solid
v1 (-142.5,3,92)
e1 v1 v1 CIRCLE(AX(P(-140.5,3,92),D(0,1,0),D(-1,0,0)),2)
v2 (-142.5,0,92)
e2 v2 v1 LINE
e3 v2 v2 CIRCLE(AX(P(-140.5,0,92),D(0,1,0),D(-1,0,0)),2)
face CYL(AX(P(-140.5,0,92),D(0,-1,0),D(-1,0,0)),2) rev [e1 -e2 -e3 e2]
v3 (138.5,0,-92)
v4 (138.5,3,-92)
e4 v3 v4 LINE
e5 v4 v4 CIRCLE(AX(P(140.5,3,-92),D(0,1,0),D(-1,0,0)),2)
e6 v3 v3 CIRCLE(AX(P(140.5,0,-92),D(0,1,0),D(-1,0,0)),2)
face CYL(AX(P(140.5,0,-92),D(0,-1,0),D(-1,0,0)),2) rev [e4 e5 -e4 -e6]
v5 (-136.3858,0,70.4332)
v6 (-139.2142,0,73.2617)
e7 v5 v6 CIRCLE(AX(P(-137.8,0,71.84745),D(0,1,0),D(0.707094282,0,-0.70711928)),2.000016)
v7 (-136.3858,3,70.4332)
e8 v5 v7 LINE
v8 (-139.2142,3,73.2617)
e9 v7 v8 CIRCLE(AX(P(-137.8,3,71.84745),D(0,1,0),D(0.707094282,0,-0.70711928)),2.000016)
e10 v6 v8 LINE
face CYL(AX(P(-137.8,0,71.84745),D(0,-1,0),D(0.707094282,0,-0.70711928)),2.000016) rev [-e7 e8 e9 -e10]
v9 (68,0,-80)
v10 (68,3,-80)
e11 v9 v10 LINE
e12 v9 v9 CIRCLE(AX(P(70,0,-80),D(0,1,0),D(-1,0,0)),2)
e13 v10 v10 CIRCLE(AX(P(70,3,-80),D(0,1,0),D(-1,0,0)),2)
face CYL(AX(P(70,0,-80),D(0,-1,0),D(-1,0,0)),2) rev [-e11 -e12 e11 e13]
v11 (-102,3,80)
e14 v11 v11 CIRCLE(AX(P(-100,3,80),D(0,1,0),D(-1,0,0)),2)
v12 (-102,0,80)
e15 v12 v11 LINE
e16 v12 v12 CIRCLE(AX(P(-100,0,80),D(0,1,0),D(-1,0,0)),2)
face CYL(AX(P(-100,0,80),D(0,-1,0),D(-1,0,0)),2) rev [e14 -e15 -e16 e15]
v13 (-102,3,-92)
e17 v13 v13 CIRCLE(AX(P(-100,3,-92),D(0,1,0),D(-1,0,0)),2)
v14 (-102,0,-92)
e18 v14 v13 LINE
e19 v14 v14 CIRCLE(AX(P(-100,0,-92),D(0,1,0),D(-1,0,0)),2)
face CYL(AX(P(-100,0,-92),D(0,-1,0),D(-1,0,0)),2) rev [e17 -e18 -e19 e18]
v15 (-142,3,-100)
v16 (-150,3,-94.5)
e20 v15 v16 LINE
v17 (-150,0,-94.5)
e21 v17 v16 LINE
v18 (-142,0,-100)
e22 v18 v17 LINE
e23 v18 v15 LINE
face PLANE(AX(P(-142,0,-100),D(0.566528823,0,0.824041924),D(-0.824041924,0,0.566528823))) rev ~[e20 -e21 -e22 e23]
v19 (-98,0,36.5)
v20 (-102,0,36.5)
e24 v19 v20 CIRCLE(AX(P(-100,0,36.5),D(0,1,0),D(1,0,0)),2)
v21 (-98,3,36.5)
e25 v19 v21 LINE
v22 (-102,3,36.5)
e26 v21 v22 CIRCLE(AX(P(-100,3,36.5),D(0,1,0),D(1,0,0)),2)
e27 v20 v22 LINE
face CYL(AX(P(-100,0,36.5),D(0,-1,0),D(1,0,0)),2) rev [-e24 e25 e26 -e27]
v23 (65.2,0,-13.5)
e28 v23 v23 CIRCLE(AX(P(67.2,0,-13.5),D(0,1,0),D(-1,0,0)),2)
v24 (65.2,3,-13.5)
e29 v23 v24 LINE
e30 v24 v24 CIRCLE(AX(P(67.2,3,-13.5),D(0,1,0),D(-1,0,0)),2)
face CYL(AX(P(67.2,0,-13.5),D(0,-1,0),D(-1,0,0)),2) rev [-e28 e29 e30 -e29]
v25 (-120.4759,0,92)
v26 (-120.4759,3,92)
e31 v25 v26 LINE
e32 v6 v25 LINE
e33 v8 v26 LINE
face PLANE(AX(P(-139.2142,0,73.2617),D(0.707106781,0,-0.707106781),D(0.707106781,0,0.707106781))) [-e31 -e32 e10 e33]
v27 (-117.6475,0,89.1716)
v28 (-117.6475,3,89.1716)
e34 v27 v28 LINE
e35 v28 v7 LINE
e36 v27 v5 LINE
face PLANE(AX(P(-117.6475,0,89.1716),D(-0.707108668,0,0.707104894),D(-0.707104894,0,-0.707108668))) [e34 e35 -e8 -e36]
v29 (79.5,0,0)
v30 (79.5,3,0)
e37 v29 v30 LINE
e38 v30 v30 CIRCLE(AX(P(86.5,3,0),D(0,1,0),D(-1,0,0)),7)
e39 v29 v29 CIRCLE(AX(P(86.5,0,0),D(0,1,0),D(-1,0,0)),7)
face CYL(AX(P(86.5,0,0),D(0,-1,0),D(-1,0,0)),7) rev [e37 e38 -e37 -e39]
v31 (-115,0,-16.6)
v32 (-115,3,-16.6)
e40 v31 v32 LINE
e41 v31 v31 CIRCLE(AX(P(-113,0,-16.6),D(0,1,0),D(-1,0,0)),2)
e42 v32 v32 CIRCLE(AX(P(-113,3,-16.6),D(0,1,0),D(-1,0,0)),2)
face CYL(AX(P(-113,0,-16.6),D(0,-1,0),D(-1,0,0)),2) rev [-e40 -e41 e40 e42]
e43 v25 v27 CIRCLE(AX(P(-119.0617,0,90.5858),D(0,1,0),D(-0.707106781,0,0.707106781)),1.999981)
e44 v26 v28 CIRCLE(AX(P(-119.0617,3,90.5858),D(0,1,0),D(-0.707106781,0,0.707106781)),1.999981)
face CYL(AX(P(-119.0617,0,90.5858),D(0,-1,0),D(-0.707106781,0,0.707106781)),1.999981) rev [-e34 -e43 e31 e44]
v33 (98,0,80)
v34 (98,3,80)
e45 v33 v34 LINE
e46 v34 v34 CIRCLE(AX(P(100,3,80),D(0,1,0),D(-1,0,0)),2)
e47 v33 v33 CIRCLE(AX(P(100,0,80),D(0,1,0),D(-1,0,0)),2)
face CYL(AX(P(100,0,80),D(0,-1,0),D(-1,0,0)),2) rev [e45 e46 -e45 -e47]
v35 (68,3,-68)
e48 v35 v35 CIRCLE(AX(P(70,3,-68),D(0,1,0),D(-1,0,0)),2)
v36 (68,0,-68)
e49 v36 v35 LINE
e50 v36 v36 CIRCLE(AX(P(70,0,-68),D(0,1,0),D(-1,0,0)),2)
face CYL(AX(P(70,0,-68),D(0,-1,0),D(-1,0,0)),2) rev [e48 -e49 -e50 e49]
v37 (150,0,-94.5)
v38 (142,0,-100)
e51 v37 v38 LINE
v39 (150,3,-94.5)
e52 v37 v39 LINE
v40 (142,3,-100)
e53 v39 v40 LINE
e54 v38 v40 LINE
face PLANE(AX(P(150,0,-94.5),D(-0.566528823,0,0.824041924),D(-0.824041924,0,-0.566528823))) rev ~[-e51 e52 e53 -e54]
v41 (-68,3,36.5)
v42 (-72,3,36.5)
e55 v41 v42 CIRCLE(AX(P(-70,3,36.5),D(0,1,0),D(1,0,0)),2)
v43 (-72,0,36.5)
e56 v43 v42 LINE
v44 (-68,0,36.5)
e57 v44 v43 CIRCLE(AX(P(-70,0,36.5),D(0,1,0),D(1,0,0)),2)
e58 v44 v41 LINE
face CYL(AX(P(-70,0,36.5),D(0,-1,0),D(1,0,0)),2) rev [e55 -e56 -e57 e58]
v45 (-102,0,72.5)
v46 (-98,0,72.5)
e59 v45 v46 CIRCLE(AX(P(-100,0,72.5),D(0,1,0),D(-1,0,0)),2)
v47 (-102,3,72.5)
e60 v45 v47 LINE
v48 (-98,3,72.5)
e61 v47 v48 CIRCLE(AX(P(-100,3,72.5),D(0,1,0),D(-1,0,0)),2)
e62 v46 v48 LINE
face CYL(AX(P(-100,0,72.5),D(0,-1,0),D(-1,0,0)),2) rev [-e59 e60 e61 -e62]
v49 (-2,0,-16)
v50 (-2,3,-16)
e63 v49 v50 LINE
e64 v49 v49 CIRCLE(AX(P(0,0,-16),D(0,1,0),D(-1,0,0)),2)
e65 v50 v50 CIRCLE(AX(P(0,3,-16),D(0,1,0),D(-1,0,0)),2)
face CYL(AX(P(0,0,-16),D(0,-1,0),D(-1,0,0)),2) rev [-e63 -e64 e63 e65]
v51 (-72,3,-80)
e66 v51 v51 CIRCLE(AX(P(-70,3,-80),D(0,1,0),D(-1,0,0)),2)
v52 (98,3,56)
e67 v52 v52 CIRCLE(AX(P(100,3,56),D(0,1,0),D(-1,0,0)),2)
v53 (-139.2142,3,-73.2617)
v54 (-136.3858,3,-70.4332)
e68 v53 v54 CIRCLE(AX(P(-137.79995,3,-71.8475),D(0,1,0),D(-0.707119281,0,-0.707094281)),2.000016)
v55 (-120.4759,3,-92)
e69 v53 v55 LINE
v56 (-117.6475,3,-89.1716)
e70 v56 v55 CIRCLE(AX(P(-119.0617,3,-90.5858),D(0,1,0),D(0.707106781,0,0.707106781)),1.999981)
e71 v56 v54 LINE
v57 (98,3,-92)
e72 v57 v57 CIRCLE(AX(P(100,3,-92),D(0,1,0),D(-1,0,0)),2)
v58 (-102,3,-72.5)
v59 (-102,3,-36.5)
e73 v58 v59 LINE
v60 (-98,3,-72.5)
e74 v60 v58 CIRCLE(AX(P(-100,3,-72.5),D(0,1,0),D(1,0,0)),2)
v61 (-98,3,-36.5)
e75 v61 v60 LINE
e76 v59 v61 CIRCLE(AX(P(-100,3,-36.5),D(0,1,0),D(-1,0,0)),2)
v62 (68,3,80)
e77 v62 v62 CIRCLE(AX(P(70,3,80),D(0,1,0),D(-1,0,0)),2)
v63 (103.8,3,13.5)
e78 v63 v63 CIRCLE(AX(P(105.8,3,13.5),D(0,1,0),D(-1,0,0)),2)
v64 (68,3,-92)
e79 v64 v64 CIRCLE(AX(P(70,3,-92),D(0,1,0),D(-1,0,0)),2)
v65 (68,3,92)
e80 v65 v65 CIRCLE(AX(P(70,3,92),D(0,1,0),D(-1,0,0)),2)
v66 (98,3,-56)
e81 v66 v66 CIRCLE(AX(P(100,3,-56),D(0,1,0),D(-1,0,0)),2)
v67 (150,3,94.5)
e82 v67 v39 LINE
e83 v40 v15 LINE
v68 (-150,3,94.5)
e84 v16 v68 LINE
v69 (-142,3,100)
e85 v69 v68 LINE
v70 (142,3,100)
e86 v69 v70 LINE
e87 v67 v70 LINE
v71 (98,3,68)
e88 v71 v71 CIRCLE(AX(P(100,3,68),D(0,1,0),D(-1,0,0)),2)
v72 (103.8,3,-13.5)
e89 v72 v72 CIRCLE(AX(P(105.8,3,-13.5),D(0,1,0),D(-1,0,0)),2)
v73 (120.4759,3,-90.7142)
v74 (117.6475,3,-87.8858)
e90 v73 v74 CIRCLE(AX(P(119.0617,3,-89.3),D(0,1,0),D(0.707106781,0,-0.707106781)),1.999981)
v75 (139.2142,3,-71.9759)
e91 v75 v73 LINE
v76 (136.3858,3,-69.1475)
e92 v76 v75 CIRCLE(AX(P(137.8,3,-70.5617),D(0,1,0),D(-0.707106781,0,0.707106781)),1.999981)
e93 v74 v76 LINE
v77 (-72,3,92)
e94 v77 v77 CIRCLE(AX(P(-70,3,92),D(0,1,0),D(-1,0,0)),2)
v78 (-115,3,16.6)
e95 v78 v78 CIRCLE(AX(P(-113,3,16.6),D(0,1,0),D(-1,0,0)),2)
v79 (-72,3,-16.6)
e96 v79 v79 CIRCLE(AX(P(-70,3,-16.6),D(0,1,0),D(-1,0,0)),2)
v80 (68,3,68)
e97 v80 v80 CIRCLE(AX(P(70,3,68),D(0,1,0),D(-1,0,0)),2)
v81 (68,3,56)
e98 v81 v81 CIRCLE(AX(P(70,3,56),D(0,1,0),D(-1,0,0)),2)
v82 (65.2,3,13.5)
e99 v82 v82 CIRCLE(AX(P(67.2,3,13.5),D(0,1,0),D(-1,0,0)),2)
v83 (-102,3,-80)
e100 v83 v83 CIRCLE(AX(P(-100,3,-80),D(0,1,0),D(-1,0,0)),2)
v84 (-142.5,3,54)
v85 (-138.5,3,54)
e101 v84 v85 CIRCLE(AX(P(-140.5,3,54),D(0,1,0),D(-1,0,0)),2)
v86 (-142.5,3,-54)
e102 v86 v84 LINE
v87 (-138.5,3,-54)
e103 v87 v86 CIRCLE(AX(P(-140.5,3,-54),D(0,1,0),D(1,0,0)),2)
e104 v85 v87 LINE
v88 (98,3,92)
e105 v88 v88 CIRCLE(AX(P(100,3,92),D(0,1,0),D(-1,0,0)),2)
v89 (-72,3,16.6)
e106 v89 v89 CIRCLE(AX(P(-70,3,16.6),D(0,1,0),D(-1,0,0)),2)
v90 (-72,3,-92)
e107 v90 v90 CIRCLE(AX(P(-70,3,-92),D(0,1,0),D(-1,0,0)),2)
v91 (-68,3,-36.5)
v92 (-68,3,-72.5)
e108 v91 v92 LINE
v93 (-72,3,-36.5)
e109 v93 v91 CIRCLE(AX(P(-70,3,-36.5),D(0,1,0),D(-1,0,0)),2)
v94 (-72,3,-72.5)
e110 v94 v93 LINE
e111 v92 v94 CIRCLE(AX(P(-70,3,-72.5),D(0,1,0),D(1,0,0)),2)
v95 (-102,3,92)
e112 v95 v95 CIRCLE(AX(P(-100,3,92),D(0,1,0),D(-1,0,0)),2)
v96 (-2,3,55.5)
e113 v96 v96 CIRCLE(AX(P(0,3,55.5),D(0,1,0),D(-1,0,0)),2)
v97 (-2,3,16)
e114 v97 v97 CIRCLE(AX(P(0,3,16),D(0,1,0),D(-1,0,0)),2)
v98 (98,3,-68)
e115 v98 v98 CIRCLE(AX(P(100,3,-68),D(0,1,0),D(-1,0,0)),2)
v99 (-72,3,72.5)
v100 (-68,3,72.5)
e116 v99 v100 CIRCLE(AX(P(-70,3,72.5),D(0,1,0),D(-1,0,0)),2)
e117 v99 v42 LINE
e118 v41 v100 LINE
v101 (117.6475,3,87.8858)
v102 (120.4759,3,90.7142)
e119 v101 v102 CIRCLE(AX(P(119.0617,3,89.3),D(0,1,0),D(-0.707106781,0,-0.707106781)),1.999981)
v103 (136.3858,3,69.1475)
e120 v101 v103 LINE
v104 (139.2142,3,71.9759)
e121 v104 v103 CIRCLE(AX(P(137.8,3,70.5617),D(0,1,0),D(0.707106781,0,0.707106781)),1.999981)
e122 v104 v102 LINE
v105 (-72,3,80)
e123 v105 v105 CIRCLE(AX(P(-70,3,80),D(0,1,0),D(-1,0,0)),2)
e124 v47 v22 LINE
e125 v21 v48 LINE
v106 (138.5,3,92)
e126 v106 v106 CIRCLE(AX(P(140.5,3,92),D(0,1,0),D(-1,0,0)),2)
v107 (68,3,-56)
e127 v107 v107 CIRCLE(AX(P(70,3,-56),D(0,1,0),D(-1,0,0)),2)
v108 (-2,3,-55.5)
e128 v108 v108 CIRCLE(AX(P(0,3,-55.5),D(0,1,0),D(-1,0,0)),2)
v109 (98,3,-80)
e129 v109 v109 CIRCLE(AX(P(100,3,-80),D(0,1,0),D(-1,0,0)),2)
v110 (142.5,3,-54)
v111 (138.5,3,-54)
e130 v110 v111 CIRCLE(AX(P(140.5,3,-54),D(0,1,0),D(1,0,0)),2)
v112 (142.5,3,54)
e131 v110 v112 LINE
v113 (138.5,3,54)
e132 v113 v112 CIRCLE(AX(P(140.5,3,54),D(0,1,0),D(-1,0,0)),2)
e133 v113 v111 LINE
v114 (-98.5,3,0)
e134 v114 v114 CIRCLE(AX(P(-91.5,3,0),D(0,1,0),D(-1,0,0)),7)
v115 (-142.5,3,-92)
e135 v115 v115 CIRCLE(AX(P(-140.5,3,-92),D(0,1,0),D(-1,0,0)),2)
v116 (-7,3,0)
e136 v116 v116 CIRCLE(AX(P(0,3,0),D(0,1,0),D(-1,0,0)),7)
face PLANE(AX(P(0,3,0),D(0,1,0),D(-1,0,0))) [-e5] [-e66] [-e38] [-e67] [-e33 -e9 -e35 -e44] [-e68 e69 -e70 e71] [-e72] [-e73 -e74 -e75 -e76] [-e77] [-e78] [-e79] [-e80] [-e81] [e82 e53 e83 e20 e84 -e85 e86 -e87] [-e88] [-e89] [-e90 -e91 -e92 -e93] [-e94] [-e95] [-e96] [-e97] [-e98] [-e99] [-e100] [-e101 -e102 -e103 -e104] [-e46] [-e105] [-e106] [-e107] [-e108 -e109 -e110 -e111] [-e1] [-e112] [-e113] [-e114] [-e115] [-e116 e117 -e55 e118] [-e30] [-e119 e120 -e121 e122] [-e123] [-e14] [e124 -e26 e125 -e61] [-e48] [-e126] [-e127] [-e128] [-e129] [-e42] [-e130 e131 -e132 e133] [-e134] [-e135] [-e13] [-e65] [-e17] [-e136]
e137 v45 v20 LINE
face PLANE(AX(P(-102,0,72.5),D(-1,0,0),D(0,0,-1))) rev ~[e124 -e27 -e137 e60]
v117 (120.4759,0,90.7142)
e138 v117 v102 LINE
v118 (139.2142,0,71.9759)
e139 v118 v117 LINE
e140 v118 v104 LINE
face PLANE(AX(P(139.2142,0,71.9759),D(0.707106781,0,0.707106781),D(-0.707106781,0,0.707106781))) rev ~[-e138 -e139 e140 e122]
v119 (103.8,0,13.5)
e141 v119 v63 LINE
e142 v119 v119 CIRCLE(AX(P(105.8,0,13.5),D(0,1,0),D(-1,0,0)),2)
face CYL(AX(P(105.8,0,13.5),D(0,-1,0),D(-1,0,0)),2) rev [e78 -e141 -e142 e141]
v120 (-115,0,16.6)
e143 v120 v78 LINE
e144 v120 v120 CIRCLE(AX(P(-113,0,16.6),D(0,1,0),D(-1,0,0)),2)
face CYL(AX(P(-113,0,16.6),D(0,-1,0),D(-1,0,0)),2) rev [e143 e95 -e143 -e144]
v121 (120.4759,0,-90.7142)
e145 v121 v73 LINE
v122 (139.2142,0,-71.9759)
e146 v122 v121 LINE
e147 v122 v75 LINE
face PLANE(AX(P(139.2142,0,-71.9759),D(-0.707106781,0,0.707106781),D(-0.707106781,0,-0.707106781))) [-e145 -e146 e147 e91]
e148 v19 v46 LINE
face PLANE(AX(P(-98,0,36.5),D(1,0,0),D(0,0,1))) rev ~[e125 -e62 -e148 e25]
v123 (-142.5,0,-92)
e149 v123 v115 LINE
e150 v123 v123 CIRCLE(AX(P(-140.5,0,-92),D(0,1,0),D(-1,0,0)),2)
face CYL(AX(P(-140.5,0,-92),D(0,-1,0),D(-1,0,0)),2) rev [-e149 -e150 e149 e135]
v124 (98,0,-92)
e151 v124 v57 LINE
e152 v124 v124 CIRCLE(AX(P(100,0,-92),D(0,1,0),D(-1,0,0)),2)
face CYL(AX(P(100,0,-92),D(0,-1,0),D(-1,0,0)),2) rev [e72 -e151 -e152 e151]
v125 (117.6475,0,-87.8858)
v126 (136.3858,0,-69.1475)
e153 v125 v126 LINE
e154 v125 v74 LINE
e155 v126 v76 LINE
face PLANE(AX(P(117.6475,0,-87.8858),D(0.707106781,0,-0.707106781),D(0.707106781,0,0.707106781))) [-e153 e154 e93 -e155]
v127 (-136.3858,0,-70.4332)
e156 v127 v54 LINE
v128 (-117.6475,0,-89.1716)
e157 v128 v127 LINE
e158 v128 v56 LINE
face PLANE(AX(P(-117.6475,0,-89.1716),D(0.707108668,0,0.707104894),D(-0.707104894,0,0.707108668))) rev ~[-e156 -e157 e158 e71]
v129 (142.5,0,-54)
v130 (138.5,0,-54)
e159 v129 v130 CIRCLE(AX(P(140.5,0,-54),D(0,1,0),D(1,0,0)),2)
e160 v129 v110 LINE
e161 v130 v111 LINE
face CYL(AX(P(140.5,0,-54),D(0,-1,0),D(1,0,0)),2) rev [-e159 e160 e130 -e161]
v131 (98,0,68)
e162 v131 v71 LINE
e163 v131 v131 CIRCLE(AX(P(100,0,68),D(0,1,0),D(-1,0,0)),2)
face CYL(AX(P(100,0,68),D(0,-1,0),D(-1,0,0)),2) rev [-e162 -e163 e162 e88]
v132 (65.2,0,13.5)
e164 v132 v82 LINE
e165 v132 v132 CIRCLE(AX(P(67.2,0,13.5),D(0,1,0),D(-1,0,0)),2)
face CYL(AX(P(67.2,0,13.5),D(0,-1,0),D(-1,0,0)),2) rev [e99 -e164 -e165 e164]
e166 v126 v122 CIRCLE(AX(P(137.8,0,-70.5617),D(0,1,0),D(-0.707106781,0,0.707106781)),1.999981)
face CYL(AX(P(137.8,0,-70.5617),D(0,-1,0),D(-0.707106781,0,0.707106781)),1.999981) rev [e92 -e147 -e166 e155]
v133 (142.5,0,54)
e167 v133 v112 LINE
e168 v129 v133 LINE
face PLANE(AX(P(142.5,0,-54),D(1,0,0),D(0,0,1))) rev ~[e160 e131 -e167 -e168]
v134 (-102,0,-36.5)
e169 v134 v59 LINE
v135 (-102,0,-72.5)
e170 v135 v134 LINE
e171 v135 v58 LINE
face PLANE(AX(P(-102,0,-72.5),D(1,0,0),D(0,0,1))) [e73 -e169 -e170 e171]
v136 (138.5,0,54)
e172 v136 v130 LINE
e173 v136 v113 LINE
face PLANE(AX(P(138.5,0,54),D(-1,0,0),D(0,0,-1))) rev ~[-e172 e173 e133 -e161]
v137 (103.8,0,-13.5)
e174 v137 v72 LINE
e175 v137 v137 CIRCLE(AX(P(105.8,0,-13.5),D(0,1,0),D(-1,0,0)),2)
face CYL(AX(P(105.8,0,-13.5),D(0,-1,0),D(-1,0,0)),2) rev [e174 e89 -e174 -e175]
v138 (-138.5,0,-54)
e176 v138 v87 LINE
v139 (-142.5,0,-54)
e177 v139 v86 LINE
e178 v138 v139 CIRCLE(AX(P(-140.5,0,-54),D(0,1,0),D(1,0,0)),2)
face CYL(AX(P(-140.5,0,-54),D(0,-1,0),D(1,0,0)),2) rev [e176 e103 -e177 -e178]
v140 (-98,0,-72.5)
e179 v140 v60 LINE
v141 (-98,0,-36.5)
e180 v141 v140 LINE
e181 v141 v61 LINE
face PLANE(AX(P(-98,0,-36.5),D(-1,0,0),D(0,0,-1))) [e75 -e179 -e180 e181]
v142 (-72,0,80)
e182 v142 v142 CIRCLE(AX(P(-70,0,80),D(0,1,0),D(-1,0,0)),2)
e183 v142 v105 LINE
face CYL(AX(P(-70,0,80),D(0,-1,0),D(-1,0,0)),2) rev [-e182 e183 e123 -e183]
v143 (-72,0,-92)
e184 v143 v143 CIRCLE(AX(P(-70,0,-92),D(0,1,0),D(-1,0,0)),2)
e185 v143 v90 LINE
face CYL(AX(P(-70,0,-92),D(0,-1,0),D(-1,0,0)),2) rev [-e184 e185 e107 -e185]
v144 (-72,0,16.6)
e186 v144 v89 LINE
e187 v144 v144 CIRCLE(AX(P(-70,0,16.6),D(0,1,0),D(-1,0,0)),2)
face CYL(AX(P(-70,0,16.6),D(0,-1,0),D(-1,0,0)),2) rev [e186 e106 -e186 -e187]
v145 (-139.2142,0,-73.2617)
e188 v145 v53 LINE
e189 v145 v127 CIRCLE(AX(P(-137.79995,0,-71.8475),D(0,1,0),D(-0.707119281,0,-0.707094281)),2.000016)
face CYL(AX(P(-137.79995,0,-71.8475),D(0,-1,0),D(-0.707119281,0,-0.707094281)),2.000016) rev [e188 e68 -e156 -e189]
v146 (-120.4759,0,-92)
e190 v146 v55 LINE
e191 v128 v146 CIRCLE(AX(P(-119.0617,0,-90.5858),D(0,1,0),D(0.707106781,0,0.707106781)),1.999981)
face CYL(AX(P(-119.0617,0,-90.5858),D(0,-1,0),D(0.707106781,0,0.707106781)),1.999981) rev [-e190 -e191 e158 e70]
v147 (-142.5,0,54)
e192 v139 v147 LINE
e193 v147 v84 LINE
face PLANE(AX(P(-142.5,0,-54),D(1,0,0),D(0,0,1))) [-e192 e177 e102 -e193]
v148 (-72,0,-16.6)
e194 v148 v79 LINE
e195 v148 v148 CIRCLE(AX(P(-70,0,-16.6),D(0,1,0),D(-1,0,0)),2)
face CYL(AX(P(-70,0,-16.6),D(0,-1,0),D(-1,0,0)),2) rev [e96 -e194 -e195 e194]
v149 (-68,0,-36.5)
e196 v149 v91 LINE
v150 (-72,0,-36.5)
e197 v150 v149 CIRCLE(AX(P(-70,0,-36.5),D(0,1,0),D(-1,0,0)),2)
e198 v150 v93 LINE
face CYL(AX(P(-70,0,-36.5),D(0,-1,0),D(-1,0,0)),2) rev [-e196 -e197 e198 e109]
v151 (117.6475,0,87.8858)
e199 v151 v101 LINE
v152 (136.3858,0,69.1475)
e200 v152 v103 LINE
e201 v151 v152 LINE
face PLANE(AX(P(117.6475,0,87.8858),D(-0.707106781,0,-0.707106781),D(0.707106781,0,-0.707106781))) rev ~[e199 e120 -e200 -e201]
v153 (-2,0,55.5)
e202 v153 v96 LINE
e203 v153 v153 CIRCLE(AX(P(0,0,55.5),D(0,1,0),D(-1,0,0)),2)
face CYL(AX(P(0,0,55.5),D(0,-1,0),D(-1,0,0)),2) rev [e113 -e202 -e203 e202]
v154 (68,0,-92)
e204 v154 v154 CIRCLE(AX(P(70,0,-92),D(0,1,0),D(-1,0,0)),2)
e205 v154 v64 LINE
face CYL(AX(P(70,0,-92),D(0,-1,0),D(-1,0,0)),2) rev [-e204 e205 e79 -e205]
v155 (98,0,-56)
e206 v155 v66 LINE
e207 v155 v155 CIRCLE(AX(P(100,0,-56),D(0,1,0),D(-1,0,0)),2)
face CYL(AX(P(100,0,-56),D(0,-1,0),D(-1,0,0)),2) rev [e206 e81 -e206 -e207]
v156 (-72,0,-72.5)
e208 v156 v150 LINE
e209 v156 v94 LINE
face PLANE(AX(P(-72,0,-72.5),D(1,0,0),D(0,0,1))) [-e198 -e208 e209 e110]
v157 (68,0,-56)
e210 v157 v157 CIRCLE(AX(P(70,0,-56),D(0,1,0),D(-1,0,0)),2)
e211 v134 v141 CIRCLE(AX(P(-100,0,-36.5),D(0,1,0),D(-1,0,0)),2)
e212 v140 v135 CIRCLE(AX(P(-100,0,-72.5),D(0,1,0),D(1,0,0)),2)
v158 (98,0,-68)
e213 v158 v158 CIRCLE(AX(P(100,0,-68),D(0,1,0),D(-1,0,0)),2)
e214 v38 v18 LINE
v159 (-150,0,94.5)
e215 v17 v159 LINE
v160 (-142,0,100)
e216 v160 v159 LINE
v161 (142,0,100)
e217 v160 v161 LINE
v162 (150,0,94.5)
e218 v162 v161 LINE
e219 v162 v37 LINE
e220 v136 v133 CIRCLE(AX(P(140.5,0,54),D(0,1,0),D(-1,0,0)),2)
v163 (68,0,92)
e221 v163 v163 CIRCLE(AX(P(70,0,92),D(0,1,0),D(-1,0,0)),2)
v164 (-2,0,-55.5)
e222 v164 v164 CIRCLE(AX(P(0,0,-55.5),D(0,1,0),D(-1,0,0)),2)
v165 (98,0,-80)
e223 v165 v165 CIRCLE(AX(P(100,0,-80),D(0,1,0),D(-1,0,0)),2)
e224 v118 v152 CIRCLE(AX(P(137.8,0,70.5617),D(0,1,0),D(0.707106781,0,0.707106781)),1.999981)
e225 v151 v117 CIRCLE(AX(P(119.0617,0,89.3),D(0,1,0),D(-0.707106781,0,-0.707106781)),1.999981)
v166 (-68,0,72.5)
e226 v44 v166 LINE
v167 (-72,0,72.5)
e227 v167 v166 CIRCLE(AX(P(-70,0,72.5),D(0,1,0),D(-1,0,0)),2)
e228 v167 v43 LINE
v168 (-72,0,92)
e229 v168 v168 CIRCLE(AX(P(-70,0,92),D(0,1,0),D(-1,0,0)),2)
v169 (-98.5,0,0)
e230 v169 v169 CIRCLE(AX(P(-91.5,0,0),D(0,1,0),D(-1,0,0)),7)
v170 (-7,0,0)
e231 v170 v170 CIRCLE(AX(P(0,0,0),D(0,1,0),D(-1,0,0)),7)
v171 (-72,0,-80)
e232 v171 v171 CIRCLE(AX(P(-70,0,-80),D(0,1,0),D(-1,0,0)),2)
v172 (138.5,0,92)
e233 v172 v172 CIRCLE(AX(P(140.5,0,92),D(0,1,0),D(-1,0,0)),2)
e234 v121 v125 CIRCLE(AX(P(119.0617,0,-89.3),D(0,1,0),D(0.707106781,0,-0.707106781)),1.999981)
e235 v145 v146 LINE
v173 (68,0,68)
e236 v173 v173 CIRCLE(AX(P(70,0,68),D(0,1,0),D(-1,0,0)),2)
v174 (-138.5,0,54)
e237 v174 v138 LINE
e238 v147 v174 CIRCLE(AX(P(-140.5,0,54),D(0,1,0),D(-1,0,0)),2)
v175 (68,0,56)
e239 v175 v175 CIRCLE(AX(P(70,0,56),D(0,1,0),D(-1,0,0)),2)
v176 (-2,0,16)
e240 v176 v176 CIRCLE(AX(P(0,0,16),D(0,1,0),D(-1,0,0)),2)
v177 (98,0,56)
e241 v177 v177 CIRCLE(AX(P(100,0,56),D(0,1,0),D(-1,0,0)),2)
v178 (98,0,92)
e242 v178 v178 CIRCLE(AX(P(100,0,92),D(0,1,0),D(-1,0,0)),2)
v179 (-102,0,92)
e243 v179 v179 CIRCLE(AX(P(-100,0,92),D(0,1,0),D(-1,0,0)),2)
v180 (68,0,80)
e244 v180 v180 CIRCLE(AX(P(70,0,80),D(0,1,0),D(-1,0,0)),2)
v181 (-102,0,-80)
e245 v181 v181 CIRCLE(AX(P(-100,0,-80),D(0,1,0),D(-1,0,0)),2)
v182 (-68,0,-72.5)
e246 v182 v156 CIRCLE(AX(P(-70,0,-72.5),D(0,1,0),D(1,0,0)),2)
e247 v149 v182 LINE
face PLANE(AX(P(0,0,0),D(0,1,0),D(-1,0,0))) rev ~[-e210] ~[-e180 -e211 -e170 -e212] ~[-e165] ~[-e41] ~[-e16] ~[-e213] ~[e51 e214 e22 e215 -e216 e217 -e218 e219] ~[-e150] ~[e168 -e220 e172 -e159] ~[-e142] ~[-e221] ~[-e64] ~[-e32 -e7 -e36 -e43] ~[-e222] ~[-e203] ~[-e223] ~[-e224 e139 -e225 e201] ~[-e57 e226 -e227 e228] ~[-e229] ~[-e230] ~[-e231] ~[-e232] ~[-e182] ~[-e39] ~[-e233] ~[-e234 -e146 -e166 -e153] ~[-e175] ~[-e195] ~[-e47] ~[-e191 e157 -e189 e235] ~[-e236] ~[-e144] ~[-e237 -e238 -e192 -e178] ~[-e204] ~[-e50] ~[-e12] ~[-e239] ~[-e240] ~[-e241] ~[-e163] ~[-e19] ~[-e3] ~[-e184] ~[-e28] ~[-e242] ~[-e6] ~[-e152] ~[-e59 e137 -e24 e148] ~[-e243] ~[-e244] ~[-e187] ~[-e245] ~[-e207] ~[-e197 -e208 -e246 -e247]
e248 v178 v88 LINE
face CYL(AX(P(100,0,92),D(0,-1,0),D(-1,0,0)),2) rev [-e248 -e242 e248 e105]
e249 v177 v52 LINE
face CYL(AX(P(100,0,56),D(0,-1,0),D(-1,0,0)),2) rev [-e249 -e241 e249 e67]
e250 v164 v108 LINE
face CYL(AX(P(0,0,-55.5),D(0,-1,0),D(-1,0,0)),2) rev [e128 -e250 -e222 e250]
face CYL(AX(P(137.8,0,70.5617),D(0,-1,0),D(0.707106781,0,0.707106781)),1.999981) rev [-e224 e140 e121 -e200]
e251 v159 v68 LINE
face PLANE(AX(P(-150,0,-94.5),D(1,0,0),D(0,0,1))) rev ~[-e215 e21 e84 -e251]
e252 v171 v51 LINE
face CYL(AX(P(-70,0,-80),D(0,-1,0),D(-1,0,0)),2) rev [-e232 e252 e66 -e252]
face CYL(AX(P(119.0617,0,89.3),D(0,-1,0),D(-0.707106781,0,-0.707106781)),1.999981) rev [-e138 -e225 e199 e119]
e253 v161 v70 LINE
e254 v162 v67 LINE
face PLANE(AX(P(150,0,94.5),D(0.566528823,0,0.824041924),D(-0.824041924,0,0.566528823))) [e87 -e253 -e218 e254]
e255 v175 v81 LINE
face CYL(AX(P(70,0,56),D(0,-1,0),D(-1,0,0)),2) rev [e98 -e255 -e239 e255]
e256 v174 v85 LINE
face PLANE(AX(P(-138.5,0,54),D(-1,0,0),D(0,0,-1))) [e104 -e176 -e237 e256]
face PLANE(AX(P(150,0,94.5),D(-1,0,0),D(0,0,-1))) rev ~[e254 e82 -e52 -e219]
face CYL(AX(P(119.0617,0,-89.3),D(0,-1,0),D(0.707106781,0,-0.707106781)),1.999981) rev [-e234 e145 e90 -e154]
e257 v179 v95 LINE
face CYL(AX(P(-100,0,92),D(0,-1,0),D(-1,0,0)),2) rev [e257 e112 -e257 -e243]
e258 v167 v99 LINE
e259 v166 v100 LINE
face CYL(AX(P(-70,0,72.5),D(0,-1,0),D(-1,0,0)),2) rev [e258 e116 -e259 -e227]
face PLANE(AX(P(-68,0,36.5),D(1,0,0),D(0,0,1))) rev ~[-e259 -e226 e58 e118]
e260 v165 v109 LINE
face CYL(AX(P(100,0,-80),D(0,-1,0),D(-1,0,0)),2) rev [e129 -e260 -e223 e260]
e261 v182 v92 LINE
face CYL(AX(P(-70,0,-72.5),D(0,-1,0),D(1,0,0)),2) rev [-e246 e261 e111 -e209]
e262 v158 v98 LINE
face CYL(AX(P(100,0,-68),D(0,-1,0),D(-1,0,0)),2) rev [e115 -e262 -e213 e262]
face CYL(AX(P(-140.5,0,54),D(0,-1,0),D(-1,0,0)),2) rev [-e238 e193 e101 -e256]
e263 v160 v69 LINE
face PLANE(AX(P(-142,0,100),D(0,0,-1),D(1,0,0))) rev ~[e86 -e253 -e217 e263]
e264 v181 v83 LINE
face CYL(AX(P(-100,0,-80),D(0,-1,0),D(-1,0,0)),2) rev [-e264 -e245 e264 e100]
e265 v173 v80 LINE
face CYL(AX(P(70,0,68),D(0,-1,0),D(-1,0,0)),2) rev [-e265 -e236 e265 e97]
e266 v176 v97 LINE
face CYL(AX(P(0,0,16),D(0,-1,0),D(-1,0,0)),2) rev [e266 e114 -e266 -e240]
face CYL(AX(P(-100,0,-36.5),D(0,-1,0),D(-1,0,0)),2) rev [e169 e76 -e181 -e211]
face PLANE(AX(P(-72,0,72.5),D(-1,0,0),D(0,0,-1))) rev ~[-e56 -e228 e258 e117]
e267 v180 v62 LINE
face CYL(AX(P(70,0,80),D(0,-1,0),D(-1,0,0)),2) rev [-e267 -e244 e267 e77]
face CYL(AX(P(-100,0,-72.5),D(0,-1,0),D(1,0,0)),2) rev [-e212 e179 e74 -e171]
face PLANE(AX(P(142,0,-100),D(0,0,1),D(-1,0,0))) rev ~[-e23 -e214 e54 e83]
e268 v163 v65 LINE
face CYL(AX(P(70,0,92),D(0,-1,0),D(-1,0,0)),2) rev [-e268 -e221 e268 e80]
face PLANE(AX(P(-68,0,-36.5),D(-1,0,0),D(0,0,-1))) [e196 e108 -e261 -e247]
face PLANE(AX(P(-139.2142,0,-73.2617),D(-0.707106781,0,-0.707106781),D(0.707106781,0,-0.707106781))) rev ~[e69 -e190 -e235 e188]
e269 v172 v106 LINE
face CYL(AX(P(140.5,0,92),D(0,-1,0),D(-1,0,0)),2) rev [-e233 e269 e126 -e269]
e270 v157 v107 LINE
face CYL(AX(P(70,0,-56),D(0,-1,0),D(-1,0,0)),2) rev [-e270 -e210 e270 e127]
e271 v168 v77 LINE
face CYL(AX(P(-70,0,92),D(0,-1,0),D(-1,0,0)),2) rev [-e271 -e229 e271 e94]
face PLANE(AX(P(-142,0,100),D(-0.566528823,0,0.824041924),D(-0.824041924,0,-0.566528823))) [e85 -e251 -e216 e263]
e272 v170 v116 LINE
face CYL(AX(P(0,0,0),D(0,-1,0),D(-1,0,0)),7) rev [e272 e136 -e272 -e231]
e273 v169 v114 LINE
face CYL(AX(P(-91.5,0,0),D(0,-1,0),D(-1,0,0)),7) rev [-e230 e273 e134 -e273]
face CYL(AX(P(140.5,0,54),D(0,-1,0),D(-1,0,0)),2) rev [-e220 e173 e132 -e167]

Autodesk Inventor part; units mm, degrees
ref_plane "YZ Plane" through (0, 0, 0) normal (1, 0, 0) x (0, 1, 0)
ref_plane "XZ Plane" through (0, 0, 0) normal (0, 1, 0) x (-1, 0, 0)
ref_plane "XY Plane" through (0, 0, 0) normal (0, 0, 1) x (1, 0, 0)
sketch "Sketch1" plane through (0, 0, 0) normal (0, 1, 0) x (-1, 0, 0)
  line L0 (150, 100) -> (142, 100) construction
  line L1 (-150, 100) -> (-150, 94.5) construction
  line L2 (-150, -100) -> (-142, -100) construction
  line L3 (150, -100) -> (150, -94.5) construction
  line L4 (6373.4973, 0) -> (-6190.4973, 0) construction
  line L5 (0, -1054.135) -> (0, 1054.135) construction
  line L6 (142, -100) -> (150, -94.5)
  line L7 (142, 100) -> (150, 94.5)
  line L8 (150, 94.5) -> (150, 100) construction
  line L9 (142, 100) -> (-142, 100)
  line L10 (150, -94.5) -> (150, 94.5)
  line L11 (142, -100) -> (150, -100) construction
  line L12 (-150, -94.5) -> (-142, -100)
  line L13 (-142, -100) -> (142, -100)
  line L14 (-150, -94.5) -> (-150, -100) construction
  line L15 (-150, 94.5) -> (-142, 100)
  line L16 (-150, 94.5) -> (-150, -94.5)
  line L17 (-142, 100) -> (-150, 100) construction
  line L18 (150, 92) -> (-150, 92) construction
  circle A0 centre (140.5, 92) radius 2
  circle A1 centre (100, 92) radius 2
  circle A2 centre (70, 92) radius 2
  circle A3 centre (-140.5, 92) radius 2
  circle A4 centre (-100, 92) radius 2
  circle A5 centre (-70, 92) radius 2
  line L19 (0, 1054.135) -> (0, -1054.135) construction
  line L20 (150, -92) -> (-150, -92) construction
  circle A6 centre (140.5, -92) radius 2
  circle A7 centre (100, -92) radius 2
  circle A8 centre (70, -92) radius 2
  circle A9 centre (-140.5, -92) radius 2
  circle A10 centre (-100, -92) radius 2
  circle A11 centre (-70, -92) radius 2
  line L21 (-100, 100) -> (-100, 0) construction
  circle A12 centre (-100, 80) radius 2
  circle A13 centre (-100, 68) radius 2
  circle A14 centre (-100, 56) radius 2
  line L22 (-70, 100) -> (-70, 0) construction
  circle A15 centre (-70, 80) radius 2
  circle A16 centre (-70, 68) radius 2
  circle A17 centre (-70, 56) radius 2
  line L23 (-100, -100) -> (-100, 0) construction
  circle A18 centre (-100, -80) radius 2
  circle A19 centre (-100, -68) radius 2
  circle A20 centre (-100, -56) radius 2
  line L24 (-70, -100) -> (-70, 0) construction
  circle A21 centre (-70, -80) radius 2
  circle A22 centre (-70, -68) radius 2
  circle A23 centre (-70, -56) radius 2
  line L25 (70, 100) -> (70, 0) construction
  line L26 (100, 100) -> (100, 0) construction
  circle A24 centre (70, 80) radius 2
  circle A25 centre (100, 80) radius 2
  arc A26 (100, 70.5) -> (102, 72.5) centre (100, 72.5) ccw construction
  arc A27 (72, 72.5) -> (68, 72.5) centre (70, 72.5) ccw
  arc A28 (100, 38.5) -> (98, 36.5) centre (100, 36.5) ccw construction
  arc A29 (68, 36.5) -> (72, 36.5) centre (70, 36.5) ccw
  line L27 (102, 72.5) -> (102, 36.5)
  line L28 (98, 36.5) -> (98, 72.5)
  arc A30 (98, 72.5) -> (100, 70.5) centre (100, 72.5) ccw construction
  arc A31 (102, 72.5) -> (98, 72.5) centre (100, 72.5) ccw
  arc A32 (102, 36.5) -> (100, 38.5) centre (100, 36.5) ccw construction
  arc A33 (98, 36.5) -> (102, 36.5) centre (100, 36.5) ccw
  line L29 (72, 72.5) -> (72, 36.5)
  line L30 (68, 36.5) -> (68, 72.5)
  arc A34 (70, 70.5) -> (72, 72.5) centre (70, 72.5) ccw construction
  arc A35 (68, 72.5) -> (70, 70.5) centre (70, 72.5) ccw construction
  arc A36 (70, 38.5) -> (68, 36.5) centre (70, 36.5) ccw construction
  arc A37 (72, 36.5) -> (70, 38.5) centre (70, 36.5) ccw construction
  circle A38 centre (70, 16.6) radius 2
  line L31 (70, -100) -> (70, 0) construction
  line L32 (100, -100) -> (100, 0) construction
  circle A39 centre (70, -80) radius 2
  circle A40 centre (100, -80) radius 2
  arc A41 (102, -72.5) -> (100, -70.5) centre (100, -72.5) ccw construction
  arc A42 (68, -72.5) -> (72, -72.5) centre (70, -72.5) ccw
  arc A43 (98, -36.5) -> (100, -38.5) centre (100, -36.5) ccw construction
  arc A44 (72, -36.5) -> (68, -36.5) centre (70, -36.5) ccw
  line L33 (102, -72.5) -> (102, -36.5)
  line L34 (98, -36.5) -> (98, -72.5)
  arc A45 (100, -70.5) -> (98, -72.5) centre (100, -72.5) ccw construction
  arc A46 (98, -72.5) -> (102, -72.5) centre (100, -72.5) ccw
  arc A47 (100, -38.5) -> (102, -36.5) centre (100, -36.5) ccw construction
  arc A48 (102, -36.5) -> (98, -36.5) centre (100, -36.5) ccw
  line L35 (72, -72.5) -> (72, -36.5)
  line L36 (68, -36.5) -> (68, -72.5)
  arc A49 (72, -72.5) -> (70, -70.5) centre (70, -72.5) ccw construction
  arc A50 (70, -70.5) -> (68, -72.5) centre (70, -72.5) ccw construction
  arc A51 (68, -36.5) -> (70, -38.5) centre (70, -36.5) ccw construction
  arc A52 (70, -38.5) -> (72, -36.5) centre (70, -36.5) ccw construction
  circle A53 centre (70, -16.6) radius 2
  circle A54 centre (91.5, 0) radius 7
  circle A55 centre (-86.5, 0) radius 7
  circle A56 centre (0, 0) radius 7
  circle A57 centre (0, 16) radius 2
  circle A58 centre (0, -16) radius 2
  circle A59 centre (-105.8, 13.5) radius 2
  circle A60 centre (-105.8, -13.5) radius 2
  arc A61 (-138.5, 54) -> (-142.5, 54) centre (-140.5, 54) ccw
  arc A62 (-140.5, -52) -> (-142.5, -54) centre (-140.5, -54) ccw construction
  line L37 (-140.5, 54) -> (-140.5, -54) construction
  line L38 (-138.5, 54) -> (-138.5, -54)
  line L39 (-142.5, -54) -> (-142.5, 54)
  arc A63 (-140.5, 52) -> (-138.5, 54) centre (-140.5, 54) ccw construction
  arc A64 (-142.5, 54) -> (-140.5, 52) centre (-140.5, 54) ccw construction
  arc A65 (-138.5, -54) -> (-140.5, -52) centre (-140.5, -54) ccw construction
  arc A66 (-142.5, -54) -> (-138.5, -54) centre (-140.5, -54) ccw
  arc A67 (142.5, 54) -> (138.5, 54) centre (140.5, 54) ccw
  arc A68 (142.5, -54) -> (140.5, -52) centre (140.5, -54) ccw construction
  line L40 (140.5, 54) -> (140.5, -54) construction
  line L41 (138.5, 54) -> (138.5, -54)
  line L42 (142.5, -54) -> (142.5, 54)
  arc A69 (138.5, 54) -> (140.5, 52) centre (140.5, 54) ccw construction
  arc A70 (140.5, 52) -> (142.5, 54) centre (140.5, 54) ccw construction
  arc A71 (140.5, -52) -> (138.5, -54) centre (140.5, -54) ccw construction
  arc A72 (138.5, -54) -> (142.5, -54) centre (140.5, -54) ccw
  arc A73 (-117.6475, 87.8858) -> (-120.4759, 90.7142) centre (-119.0617, 89.3) ccw
  arc A74 (-136.3858, 71.9759) -> (-139.2142, 71.9759) centre (-137.8, 70.5617) ccw construction
  line L43 (-119.0617, 89.3) -> (-137.8, 70.5617) construction
  line L44 (-117.6475, 87.8858) -> (-136.3858, 69.1475)
  line L45 (-139.2142, 71.9759) -> (-120.4759, 90.7142)
  arc A75 (-120.4759, 87.8858) -> (-117.6475, 87.8858) centre (-119.0617, 89.3) ccw construction
  arc A76 (-120.4759, 90.7142) -> (-120.4759, 87.8858) centre (-119.0617, 89.3) ccw construction
  arc A77 (-136.3858, 69.1475) -> (-136.3858, 71.9759) centre (-137.8, 70.5617) ccw construction
  arc A78 (-139.2142, 71.9759) -> (-136.3858, 69.1475) centre (-137.8, 70.5617) ccw
  line L46 (-140.5, 92) -> (-119.0617, 89.3) construction
  line L47 (-140.5, 92) -> (-137.8, 70.5617) construction
  arc A79 (-120.4759, -90.7142) -> (-117.6475, -87.8858) centre (-119.0617, -89.3) ccw
  arc A80 (-139.2142, -71.9759) -> (-136.3858, -71.9759) centre (-137.8, -70.5617) ccw construction
  line L48 (-119.0617, -89.3) -> (-137.8, -70.5617) construction
  line L49 (-117.6475, -87.8858) -> (-136.3858, -69.1475)
  line L50 (-139.2142, -71.9759) -> (-120.4759, -90.7142)
  arc A81 (-117.6475, -87.8858) -> (-120.4759, -87.8858) centre (-119.0617, -89.3) ccw construction
  arc A82 (-120.4759, -87.8858) -> (-120.4759, -90.7142) centre (-119.0617, -89.3) ccw construction
  arc A83 (-136.3858, -71.9759) -> (-136.3858, -69.1475) centre (-137.8, -70.5617) ccw construction
  arc A84 (-136.3858, -69.1475) -> (-139.2142, -71.9759) centre (-137.8, -70.5617) ccw
  line L51 (-140.5, -92) -> (-137.8, -70.5617) construction
  arc A85 (117.6475, 92) -> (120.4759, 92) centre (119.0617, 90.5858) ccw construction
  arc A86 (136.3858, 70.4332) -> (139.2142, 73.2617) centre (137.8, 71.8475) ccw
  line L52 (119.0617, 90.5858) -> (137.8, 71.8475) construction
  line L53 (117.6475, 89.1716) -> (136.3858, 70.4332)
  line L54 (139.2142, 73.2617) -> (120.4759, 92)
  arc A87 (117.6475, 89.1716) -> (117.6475, 92) centre (119.0617, 90.5858) ccw construction
  arc A88 (120.4759, 92) -> (117.6475, 89.1716) centre (119.0617, 90.5858) ccw
  arc A89 (139.2142, 70.4332) -> (136.3858, 70.4332) centre (137.8, 71.8475) ccw construction
  arc A90 (139.2142, 73.2617) -> (139.2142, 70.4332) centre (137.8, 71.8475) ccw construction
  line L55 (150, -92) -> (-150, -92) construction
  arc A91 (120.4759, -92) -> (117.6475, -92) centre (119.0617, -90.5858) ccw construction
  arc A92 (139.2142, -73.2617) -> (136.3858, -70.4332) centre (137.8, -71.8475) ccw
  line L56 (119.0617, -90.5858) -> (137.8, -71.8475) construction
  line L57 (117.6475, -89.1716) -> (136.3858, -70.4332)
  line L58 (139.2142, -73.2617) -> (120.4759, -92)
  arc A93 (117.6475, -92) -> (117.6475, -89.1716) centre (119.0617, -90.5858) ccw construction
  arc A94 (117.6475, -89.1716) -> (120.4759, -92) centre (119.0617, -90.5858) ccw
  arc A95 (136.3858, -70.4332) -> (139.2142, -70.4332) centre (137.8, -71.8475) ccw construction
  arc A96 (139.2142, -70.4332) -> (139.2142, -73.2617) centre (137.8, -71.8475) ccw construction
  line L59 (-86.5, 23.4128) -> (-86.5, -26.7268) construction
  line L60 (-6546.4973, 0) -> (6017.4973, 0) construction
  circle A97 centre (-67.2, 13.5) radius 2
  circle A98 centre (-67.2, -13.5) radius 2
  line L61 (91.5, 21.1732) -> (91.5, -21.9498) construction
  line L62 (-6190.4973, 0) -> (6373.4973, 0) construction
  line L63 (113, 100) -> (113, 0) construction
  circle A99 centre (113, 16.6) radius 2
  line L64 (113, -100) -> (113, 0) construction
  circle A100 centre (113, -16.6) radius 2
  line L65 (6729.4973, 0) -> (-5834.4973, 0) construction
  circle A101 centre (0, 55.5) radius 2
  circle A102 centre (0, -55.5) radius 2
  dimension "d0" = 300
  dimension "d1" = 200
  dimension "d2" = 8
  dimension "d3" = 5.5
  dimension "d4" = 5.5
  dimension "d5" = 8
  dimension "d6" = 8
  dimension "d7" = 5.5
  dimension "d8" = 5.5
  dimension "d9" = 8
  dimension "d10" = 8
  dimension "d11" = 4
  dimension "d12" = 4
  dimension "d13" = 4
  dimension "d14" = 9.5
  dimension "d15" = 50
  dimension "d16" = 80
  dimension "d17" = 4
  dimension "d18" = 4
  dimension "d19" = 4
  dimension "d20" = 9.5
  dimension "d21" = 50
  dimension "d22" = 80
  dimension "d23" = 4
  dimension "d24" = 4
  dimension "d25" = 4
  dimension "d26" = 44
  dimension "d27" = 32
  dimension "d28" = 20
  dimension "d29" = 4
  dimension "d30" = 4
  dimension "d31" = 4
  dimension "d32" = 20
  dimension "d33" = 32
  dimension "d34" = 44
  dimension "d35" = 4
  dimension "d36" = 4
  dimension "d37" = 20
  dimension "d38" = 20
  dimension "d39" = 4
  dimension "d40" = 4
  dimension "d41" = 7.5
  dimension "d42" = 7.5
  dimension "d43" = 4
  dimension "d44" = 36
  dimension "d45" = 4
  dimension "d46" = 36
  dimension "d47" = 4
  dimension "d48" = 16.6
  dimension "d49" = 14
  dimension "d50" = 14
  dimension "d51" = 58.5
  dimension "d52" = 63.5
  dimension "d53" = 14
  dimension "d54" = 4
  dimension "d55" = 16
  dimension "d56" = 4
  dimension "d57" = 13.5
  dimension "d58" = 44.2
  dimension "d59" = 4
  dimension "d60" = 4
  dimension "d61" = 9.5
  dimension "d62" = 108
  dimension "d63" = 4
extrude "Extrusion2" add sketch "Sketch1" along normal blind 3
properties part number "platform_board"
